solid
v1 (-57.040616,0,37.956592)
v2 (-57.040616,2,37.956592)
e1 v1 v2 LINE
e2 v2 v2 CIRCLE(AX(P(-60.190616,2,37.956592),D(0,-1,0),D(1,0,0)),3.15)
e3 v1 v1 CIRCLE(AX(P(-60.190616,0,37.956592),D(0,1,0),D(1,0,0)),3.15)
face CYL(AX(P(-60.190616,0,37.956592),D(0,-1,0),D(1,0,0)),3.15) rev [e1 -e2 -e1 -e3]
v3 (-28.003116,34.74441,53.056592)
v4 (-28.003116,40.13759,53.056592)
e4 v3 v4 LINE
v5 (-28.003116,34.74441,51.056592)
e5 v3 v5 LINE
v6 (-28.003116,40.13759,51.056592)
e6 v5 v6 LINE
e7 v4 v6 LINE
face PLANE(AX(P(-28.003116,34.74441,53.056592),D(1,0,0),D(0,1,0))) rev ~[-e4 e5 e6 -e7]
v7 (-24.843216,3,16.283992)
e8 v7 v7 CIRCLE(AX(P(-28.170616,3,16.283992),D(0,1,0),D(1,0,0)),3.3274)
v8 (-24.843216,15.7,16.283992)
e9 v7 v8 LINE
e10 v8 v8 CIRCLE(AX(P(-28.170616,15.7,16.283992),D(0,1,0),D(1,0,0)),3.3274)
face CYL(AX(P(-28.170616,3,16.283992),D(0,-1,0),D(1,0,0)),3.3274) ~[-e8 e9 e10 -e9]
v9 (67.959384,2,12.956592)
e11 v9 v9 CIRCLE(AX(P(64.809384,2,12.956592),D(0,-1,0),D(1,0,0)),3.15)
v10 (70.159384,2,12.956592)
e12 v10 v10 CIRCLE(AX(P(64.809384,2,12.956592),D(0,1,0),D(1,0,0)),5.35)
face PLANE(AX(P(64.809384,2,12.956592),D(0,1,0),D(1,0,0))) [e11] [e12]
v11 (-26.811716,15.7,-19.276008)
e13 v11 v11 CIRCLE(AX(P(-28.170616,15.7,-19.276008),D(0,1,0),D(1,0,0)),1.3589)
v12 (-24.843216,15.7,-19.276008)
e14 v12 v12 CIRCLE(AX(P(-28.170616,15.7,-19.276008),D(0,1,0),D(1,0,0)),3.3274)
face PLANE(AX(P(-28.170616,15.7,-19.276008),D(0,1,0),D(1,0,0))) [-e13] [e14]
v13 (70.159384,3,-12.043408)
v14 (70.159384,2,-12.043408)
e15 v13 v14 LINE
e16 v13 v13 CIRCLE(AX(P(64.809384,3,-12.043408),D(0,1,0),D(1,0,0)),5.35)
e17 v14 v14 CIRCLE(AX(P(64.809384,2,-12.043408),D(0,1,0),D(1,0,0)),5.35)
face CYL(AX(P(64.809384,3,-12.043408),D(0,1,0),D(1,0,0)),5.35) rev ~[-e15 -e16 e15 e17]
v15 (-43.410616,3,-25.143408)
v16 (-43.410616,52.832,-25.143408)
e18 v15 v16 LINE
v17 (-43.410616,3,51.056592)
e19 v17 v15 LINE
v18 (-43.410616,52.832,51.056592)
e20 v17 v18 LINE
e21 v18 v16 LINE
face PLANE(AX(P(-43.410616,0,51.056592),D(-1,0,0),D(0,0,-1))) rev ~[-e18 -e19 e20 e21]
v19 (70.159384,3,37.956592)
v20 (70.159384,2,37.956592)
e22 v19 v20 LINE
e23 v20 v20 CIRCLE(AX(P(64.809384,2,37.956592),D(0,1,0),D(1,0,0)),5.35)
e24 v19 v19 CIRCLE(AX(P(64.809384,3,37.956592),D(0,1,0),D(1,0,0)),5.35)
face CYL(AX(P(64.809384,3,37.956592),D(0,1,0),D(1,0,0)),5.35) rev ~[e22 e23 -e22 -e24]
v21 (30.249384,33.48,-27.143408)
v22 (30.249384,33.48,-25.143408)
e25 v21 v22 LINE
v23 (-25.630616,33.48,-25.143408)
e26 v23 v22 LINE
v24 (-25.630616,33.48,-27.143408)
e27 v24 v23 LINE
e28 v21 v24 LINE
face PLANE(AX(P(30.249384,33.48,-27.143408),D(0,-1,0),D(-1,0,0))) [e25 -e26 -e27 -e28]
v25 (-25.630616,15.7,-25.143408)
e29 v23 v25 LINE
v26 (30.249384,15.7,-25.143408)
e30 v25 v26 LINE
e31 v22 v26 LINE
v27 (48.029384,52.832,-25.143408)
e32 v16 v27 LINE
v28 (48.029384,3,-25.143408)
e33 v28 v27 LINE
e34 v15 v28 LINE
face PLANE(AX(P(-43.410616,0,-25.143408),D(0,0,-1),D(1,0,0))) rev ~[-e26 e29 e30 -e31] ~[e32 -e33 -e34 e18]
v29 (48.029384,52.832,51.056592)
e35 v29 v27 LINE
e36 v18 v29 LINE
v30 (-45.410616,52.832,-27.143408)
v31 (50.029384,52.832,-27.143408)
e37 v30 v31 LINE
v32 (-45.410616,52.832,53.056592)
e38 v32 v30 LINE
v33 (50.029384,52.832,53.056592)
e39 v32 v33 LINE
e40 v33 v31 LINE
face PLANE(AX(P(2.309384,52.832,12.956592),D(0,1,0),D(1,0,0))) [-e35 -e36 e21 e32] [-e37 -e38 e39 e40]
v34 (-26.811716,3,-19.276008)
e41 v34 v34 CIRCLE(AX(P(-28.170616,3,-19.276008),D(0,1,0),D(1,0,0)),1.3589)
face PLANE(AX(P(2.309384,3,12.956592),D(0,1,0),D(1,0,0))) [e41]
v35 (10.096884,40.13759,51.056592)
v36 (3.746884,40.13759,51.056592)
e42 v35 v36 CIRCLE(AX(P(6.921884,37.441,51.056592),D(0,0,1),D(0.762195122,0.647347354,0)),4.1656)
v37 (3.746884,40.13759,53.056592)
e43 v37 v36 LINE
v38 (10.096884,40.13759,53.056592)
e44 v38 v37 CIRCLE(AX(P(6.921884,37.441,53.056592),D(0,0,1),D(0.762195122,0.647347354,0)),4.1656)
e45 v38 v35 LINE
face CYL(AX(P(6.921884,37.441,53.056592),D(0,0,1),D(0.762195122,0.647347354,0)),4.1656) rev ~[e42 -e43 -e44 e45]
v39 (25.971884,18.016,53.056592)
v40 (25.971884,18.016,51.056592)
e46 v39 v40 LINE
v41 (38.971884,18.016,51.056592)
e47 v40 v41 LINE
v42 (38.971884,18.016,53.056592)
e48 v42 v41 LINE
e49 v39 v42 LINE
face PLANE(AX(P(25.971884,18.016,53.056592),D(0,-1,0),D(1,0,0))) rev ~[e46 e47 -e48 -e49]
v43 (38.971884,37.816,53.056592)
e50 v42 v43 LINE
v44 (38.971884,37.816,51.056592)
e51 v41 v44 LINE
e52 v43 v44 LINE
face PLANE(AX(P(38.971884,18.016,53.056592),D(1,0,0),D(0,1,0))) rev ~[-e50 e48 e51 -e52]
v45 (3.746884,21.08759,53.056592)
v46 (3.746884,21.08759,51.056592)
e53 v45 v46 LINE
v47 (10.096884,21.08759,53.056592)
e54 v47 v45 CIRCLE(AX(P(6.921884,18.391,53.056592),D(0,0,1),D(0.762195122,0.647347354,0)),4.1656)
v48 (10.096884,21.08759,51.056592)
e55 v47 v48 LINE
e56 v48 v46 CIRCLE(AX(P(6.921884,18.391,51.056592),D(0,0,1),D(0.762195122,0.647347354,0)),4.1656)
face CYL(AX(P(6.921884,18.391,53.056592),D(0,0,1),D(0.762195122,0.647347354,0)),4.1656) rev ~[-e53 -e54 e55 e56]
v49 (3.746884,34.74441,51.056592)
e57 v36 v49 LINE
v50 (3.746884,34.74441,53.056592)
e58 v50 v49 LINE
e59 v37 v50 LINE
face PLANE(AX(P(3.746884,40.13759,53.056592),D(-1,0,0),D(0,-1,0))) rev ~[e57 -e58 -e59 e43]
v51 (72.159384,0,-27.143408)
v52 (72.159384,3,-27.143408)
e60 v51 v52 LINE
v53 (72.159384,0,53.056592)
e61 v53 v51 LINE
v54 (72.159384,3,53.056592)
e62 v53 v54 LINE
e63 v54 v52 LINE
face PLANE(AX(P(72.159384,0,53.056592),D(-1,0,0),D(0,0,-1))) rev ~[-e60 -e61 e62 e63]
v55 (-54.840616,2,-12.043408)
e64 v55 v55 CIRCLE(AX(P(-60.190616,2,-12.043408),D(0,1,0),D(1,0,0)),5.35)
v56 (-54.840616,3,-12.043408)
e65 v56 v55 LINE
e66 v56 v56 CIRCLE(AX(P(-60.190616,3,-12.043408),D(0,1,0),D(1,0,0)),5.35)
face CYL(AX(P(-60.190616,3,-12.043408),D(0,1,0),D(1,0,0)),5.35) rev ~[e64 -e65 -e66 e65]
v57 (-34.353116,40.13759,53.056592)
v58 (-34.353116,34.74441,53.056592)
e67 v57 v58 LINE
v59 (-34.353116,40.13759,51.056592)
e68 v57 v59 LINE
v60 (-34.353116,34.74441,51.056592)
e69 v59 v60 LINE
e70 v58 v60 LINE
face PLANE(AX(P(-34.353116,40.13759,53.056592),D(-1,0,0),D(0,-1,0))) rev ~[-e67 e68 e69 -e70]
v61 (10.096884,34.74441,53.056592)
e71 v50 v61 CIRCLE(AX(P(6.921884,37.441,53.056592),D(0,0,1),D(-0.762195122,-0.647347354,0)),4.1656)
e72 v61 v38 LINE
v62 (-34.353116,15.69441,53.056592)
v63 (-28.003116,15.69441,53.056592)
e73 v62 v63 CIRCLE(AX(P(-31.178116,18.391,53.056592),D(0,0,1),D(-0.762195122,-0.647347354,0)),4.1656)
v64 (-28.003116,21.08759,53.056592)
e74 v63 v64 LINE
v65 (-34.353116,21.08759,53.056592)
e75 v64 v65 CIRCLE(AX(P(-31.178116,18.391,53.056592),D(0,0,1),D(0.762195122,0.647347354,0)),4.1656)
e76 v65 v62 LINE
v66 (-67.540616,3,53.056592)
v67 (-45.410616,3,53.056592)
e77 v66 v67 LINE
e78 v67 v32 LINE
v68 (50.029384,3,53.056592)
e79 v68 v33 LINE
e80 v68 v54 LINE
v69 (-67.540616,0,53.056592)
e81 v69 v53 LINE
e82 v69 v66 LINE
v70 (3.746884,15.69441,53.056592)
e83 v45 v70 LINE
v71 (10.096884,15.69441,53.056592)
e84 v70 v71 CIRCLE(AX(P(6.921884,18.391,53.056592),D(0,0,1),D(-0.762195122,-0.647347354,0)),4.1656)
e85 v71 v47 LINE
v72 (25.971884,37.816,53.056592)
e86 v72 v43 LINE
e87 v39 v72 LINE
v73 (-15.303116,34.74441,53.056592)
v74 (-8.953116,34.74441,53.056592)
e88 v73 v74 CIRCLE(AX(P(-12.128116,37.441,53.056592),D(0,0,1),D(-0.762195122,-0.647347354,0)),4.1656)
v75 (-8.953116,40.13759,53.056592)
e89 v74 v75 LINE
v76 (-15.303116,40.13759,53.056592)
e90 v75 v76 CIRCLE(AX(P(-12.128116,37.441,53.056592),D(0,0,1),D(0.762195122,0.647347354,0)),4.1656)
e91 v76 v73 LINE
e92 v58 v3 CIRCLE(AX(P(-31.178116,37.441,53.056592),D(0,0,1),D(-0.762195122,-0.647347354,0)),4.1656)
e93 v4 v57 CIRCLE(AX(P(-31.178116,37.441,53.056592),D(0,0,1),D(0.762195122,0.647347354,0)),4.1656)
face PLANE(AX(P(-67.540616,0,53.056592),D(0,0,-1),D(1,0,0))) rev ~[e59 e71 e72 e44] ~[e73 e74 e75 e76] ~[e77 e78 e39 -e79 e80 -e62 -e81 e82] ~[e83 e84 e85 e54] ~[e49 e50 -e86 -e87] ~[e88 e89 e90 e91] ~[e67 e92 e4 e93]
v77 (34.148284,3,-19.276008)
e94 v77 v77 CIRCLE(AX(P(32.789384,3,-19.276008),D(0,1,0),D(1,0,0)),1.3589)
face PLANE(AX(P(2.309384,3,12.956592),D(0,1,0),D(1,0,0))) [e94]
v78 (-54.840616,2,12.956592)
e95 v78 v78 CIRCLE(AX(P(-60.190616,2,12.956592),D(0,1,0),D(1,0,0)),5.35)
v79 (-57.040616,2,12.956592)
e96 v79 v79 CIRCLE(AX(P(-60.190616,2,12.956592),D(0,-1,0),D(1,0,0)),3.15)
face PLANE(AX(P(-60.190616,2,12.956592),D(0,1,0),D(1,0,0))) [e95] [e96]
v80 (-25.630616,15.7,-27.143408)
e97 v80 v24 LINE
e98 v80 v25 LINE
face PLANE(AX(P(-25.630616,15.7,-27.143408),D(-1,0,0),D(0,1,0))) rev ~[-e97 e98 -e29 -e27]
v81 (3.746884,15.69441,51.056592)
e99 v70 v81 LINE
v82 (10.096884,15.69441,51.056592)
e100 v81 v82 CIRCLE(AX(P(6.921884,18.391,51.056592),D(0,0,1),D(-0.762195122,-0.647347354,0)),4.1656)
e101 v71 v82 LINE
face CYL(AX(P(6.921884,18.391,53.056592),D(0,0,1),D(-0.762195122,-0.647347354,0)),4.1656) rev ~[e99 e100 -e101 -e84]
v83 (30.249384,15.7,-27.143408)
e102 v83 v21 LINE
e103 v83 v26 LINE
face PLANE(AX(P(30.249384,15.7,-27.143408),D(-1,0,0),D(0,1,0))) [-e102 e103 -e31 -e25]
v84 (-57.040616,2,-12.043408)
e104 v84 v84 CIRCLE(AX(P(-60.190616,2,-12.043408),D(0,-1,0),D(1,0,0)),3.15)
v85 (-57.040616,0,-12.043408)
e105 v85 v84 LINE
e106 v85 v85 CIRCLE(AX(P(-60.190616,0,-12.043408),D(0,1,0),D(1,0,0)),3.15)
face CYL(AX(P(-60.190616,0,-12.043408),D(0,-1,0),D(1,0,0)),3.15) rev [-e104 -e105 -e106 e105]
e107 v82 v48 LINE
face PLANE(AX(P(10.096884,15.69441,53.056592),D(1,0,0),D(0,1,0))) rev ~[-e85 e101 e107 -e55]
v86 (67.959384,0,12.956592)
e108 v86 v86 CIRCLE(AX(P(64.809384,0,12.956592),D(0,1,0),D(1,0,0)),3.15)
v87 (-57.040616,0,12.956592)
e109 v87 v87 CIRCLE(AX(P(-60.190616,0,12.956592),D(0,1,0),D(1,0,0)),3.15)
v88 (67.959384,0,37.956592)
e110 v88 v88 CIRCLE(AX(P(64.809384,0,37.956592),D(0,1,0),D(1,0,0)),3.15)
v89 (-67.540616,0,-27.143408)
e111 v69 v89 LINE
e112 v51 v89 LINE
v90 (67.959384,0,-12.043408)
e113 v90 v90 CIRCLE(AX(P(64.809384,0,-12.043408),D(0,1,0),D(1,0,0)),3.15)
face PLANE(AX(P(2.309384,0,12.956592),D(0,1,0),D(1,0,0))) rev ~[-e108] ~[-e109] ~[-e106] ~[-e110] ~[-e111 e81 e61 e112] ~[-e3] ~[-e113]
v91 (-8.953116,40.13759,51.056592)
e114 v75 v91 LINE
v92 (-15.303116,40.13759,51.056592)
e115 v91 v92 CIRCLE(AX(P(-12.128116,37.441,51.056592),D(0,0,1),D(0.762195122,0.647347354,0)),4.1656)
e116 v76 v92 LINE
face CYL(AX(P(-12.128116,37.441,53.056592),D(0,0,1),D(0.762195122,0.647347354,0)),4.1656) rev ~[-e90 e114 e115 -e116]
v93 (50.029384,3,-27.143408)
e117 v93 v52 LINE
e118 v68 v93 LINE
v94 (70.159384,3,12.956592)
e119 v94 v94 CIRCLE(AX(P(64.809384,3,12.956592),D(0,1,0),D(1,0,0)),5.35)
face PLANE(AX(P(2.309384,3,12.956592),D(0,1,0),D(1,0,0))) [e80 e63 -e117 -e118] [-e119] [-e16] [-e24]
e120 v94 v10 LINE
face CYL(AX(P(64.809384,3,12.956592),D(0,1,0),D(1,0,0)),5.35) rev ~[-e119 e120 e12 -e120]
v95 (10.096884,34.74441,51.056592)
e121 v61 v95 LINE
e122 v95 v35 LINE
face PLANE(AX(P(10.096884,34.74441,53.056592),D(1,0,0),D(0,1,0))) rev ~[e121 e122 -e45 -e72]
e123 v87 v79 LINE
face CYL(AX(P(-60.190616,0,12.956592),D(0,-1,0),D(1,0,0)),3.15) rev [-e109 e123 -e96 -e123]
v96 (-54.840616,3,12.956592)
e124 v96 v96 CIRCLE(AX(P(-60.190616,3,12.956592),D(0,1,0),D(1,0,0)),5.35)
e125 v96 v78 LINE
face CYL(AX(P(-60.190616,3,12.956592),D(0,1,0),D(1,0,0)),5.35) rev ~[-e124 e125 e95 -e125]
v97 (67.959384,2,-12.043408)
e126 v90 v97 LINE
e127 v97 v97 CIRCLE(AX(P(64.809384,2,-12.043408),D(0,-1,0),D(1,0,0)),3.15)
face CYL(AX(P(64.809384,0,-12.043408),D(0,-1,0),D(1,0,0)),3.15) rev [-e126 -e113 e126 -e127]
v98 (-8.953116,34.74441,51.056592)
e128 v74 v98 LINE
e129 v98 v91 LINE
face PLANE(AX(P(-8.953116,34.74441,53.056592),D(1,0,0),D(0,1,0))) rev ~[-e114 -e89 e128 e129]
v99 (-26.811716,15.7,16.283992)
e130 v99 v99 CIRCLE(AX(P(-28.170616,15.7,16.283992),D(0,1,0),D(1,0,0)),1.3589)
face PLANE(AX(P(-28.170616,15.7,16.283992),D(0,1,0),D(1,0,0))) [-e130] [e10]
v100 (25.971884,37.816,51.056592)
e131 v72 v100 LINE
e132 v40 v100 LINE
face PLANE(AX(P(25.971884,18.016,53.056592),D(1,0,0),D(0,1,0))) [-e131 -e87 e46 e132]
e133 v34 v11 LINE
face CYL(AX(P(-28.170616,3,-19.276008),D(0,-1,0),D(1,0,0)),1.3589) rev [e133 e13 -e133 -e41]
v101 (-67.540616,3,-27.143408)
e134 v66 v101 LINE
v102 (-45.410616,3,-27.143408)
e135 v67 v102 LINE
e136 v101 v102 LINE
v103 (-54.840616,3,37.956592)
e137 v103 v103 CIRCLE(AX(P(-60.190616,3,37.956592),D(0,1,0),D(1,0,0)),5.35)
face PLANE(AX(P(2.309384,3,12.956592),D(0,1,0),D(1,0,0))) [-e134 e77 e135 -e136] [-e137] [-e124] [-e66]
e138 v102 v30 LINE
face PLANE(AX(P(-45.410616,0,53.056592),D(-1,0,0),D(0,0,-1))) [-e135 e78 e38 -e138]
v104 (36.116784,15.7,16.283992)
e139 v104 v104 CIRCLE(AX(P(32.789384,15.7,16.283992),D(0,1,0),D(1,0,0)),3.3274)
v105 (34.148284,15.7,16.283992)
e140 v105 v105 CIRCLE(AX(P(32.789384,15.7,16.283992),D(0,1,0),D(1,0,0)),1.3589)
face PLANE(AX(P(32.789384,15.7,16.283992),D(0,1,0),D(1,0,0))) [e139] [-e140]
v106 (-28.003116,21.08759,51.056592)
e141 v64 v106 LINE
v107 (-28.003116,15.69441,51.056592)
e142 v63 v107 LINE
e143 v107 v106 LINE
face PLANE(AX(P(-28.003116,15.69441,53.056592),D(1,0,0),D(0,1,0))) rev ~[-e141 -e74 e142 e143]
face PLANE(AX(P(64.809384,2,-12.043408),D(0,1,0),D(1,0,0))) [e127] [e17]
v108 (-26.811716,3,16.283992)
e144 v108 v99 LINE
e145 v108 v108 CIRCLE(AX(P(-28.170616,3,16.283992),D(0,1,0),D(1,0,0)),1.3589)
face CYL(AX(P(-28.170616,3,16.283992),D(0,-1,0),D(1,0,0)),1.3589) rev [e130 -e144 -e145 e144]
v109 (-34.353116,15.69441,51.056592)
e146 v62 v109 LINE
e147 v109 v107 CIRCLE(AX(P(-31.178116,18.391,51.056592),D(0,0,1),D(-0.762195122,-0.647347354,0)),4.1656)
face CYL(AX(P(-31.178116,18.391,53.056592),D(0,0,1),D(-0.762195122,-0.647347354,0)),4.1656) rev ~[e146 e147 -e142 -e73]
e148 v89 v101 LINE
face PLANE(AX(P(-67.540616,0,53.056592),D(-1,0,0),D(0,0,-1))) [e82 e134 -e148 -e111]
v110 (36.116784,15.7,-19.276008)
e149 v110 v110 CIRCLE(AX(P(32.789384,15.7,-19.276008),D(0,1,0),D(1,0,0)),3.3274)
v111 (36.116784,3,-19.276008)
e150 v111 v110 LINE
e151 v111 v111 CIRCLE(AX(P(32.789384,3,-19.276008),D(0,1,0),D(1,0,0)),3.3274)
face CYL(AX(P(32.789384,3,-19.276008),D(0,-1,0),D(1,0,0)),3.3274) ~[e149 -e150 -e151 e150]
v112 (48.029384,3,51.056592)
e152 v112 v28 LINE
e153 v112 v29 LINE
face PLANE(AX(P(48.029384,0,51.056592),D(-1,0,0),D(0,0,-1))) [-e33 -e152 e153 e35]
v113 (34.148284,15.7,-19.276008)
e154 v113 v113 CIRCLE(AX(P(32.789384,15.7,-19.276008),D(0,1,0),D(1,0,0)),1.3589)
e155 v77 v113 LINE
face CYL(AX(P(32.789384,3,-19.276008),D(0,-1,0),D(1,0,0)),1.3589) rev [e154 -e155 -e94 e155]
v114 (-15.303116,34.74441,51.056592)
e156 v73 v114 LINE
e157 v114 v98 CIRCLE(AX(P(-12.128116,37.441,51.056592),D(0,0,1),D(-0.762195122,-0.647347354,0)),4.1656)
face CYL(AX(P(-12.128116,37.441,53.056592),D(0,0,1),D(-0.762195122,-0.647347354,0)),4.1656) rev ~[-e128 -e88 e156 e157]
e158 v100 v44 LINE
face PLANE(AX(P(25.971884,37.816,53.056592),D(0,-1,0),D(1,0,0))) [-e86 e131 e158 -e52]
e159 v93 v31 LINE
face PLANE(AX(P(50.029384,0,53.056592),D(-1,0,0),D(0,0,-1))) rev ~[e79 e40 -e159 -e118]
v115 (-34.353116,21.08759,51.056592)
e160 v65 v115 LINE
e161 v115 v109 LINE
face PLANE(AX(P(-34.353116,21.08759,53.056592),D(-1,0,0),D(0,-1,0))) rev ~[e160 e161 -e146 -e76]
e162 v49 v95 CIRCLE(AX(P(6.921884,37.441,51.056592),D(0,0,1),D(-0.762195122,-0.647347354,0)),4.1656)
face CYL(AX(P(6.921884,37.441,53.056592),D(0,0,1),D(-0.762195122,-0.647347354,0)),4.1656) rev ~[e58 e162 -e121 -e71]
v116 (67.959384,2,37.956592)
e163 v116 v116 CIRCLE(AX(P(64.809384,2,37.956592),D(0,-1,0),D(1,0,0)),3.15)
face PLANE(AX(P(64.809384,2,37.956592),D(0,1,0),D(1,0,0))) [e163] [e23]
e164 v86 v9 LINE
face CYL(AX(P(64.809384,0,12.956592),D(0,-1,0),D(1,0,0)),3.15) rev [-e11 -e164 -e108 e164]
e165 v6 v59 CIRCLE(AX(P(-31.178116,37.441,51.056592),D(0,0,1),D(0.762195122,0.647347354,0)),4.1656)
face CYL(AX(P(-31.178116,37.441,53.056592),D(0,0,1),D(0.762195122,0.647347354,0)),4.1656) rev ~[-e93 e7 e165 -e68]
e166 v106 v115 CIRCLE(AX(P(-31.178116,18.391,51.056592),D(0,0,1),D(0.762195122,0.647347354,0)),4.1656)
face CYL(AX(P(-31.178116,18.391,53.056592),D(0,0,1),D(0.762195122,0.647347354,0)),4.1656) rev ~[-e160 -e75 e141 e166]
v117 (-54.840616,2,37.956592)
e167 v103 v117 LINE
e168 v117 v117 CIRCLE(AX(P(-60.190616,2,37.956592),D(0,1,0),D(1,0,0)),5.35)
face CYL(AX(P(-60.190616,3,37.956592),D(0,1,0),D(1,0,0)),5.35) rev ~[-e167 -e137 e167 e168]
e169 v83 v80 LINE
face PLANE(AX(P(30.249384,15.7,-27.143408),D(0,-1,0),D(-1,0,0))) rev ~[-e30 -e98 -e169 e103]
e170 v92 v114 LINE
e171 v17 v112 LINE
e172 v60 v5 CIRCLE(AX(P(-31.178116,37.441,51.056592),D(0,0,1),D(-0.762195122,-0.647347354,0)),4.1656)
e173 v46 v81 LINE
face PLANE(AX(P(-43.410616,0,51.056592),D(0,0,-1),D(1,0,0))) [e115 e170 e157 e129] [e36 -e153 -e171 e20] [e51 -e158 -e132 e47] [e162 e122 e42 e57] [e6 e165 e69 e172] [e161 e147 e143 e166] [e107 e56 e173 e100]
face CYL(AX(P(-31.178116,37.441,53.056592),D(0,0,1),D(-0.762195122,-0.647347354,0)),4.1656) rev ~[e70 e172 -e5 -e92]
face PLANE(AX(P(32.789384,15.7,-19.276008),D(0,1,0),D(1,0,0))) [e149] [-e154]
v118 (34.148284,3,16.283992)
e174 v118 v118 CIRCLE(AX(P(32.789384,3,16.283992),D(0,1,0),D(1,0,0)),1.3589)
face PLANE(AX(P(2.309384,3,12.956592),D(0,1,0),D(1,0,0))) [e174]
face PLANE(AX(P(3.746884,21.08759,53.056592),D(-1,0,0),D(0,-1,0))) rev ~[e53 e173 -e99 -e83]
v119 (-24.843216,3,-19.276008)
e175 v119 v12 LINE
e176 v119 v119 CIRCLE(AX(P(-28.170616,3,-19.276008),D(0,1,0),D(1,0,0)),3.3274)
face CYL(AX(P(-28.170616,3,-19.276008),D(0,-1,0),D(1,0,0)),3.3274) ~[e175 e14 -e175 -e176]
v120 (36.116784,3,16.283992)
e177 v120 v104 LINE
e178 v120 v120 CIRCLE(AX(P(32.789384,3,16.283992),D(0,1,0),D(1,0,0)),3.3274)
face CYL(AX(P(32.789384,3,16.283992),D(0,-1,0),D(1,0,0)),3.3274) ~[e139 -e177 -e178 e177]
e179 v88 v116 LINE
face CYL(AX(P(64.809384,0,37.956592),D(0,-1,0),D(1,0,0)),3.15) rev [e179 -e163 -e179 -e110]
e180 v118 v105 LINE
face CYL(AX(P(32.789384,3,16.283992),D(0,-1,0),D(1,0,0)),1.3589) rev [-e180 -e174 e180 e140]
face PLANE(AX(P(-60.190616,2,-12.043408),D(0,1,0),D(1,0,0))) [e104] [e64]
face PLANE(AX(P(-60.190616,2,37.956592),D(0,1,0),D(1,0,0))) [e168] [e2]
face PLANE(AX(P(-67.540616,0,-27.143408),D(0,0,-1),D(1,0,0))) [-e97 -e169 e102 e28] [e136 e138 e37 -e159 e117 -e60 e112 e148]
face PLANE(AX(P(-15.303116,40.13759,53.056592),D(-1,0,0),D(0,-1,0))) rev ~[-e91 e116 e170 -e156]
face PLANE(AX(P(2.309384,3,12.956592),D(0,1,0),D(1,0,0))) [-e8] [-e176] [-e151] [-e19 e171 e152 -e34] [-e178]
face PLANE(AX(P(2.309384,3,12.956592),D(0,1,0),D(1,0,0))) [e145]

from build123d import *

# Parameters (mm, degrees)
SKETCH1_W           = 95.44
SKETCH1_H           = 80.2
SKETCH1_W_2         = 91.44
SKETCH1_H_2         = 76.2
BOSS_EXTRUDE1_DEPTH = 52.832
SKETCH2_W           = 139.7
SKETCH2_H           = 80.2
SKETCH2_R           = 3.15
BOSS_EXTRUDE2_DEPTH = 3
SKETCH3_R           = 5.35
CUT_EXTRUDE1_DEPTH  = 1
SKETCH4_R           = 3.3274
SKETCH4_R_2         = 1.3589
BOSS_EXTRUDE3_DEPTH = 12.7
CUT_EXTRUDE2_REACH  = 82.2
SKETCH5_W           = 55.88
SKETCH5_H           = 17.78
CUT_EXTRUDE3_REACH  = 82.2
SKETCH6_W           = 13
SKETCH6_H           = 19.8


with BuildPart() as part:
    # Sketch1 → Boss-Extrude1 (new body)
    with BuildSketch(Plane(origin=(0, 0, 0), x_dir=(1, 0, 0), z_dir=(0, 1, 0))):
        with Locations((2.309383501, -12.95659189)):
            Rectangle(SKETCH1_W, SKETCH1_H)
        with Locations((2.309383501, -12.95659189)):
            Rectangle(SKETCH1_W_2, SKETCH1_H_2, mode=Mode.SUBTRACT)
    extrude(amount=BOSS_EXTRUDE1_DEPTH)

    # Sketch2 → Boss-Extrude2 (add)
    with BuildSketch(Plane(origin=(0, 0, 0), x_dir=(1, 0, 0), z_dir=(0, 1, 0))):
        with Locations((2.309383501, -12.95659189)):
            Rectangle(SKETCH2_W, SKETCH2_H)
        with Locations((-60.190616499, 12.04340811)):
            Circle(SKETCH2_R, mode=Mode.SUBTRACT)
        with Locations((64.809383501, 12.04340811)):
            Circle(SKETCH2_R, mode=Mode.SUBTRACT)
        with Locations((-60.190616499, -37.95659189)):
            Circle(SKETCH2_R, mode=Mode.SUBTRACT)
        with Locations((64.809383501, -37.95659189)):
            Circle(SKETCH2_R, mode=Mode.SUBTRACT)
        with Locations((-60.190616499, -12.95659189)):
            Circle(SKETCH2_R, mode=Mode.SUBTRACT)
        with Locations((64.809383501, -12.95659189)):
            Circle(SKETCH2_R, mode=Mode.SUBTRACT)
    extrude(amount=BOSS_EXTRUDE2_DEPTH)

    # Sketch3 → Cut-Extrude1 (cut)
    with BuildSketch(Plane(origin=(0, 3, 0), x_dir=(1, 0, 0), z_dir=(0, 1, 0))):
        with Locations((-60.190616499, 12.04340811)):
            Circle(SKETCH3_R)
        with Locations((-60.190616499, -12.95659189)):
            Circle(SKETCH3_R)
        with Locations((-60.190616499, -37.95659189)):
            Circle(SKETCH3_R)
        with Locations((64.809383501, 12.04340811)):
            Circle(SKETCH3_R)
        with Locations((64.809383501, -12.95659189)):
            Circle(SKETCH3_R)
        with Locations((64.809383501, -37.95659189)):
            Circle(SKETCH3_R)
    extrude(amount=-CUT_EXTRUDE1_DEPTH, mode=Mode.SUBTRACT)

    # Sketch4 → Boss-Extrude3 (add)
    with BuildSketch(Plane(origin=(0, 3, 0), x_dir=(1, 0, 0), z_dir=(0, 1, 0))):
        with Locations((-28.170616499, 19.27600811)):
            Circle(SKETCH4_R)
        with Locations((-28.170616499, 19.27600811)):
            Circle(SKETCH4_R_2, mode=Mode.SUBTRACT)
        with Locations((32.789383501, 19.27600811)):
            Circle(SKETCH4_R)
        with Locations((32.789383501, 19.27600811)):
            Circle(SKETCH4_R_2, mode=Mode.SUBTRACT)
        with Locations((32.789383501, -16.28399189)):
            Circle(SKETCH4_R)
        with Locations((32.789383501, -16.28399189)):
            Circle(SKETCH4_R_2, mode=Mode.SUBTRACT)
        with Locations((-28.170616499, -16.28399189)):
            Circle(SKETCH4_R)
        with Locations((-28.170616499, -16.28399189)):
            Circle(SKETCH4_R_2, mode=Mode.SUBTRACT)
    extrude(amount=BOSS_EXTRUDE3_DEPTH)

    # Sketch5 → Cut-Extrude2 (cut, up to next)
    with BuildSketch(Plane(origin=(0, 0, -27.14340811), x_dir=(-1, 0, 0), z_dir=(0, 0, -1)), mode=Mode.PRIVATE) as cut_extrude2_sk1:
        with Locations((-2.309383501, 24.59)):
            Rectangle(SKETCH5_W, SKETCH5_H)
    cut_extrude2_tool1 = extrude(cut_extrude2_sk1.sketch, amount=-CUT_EXTRUDE2_REACH, mode=Mode.PRIVATE) & part.part
    add(cut_extrude2_tool1.solids().sort_by_distance((2.309384, 24.59, -27.143408))[0], mode=Mode.SUBTRACT)

    # Sketch6 → Cut-Extrude3 (cut, up to next)
    with BuildSketch(Plane.XY.offset(53.05659189), mode=Mode.PRIVATE) as cut_extrude3_sk1:
        with BuildLine():
            Line((-34.353116499, 40.137590136), (-34.353116499, 34.744409864))
            ThreePointArc((-34.353116499, 34.744409864), (-31.178116499, 33.2754), (-28.003116499, 34.744409864))
            Line((-28.003116499, 34.744409864), (-28.003116499, 40.137590136))
            ThreePointArc((-28.003116499, 40.137590136), (-31.178116499, 41.6066), (-34.353116499, 40.137590136))
        make_face()
    cut_extrude3_tool1 = extrude(cut_extrude3_sk1.sketch, amount=-CUT_EXTRUDE3_REACH, mode=Mode.PRIVATE) & part.part
    add(cut_extrude3_tool1.solids().sort_by_distance((-31.178116, 37.441, 53.056592))[0], mode=Mode.SUBTRACT)
    # Sketch6 → Cut-Extrude3 (cut, up to next)
    with BuildSketch(Plane.XY.offset(53.05659189), mode=Mode.PRIVATE) as cut_extrude3_sk2:
        with BuildLine():
            Line((-15.303116499, 40.137590136), (-15.303116499, 34.744409864))
            ThreePointArc((-15.303116499, 34.744409864), (-12.128116499, 33.2754), (-8.953116499, 34.744409864))
            Line((-8.953116499, 34.744409864), (-8.953116499, 40.137590136))
            ThreePointArc((-8.953116499, 40.137590136), (-12.128116499, 41.6066), (-15.303116499, 40.137590136))
        make_face()
    cut_extrude3_tool2 = extrude(cut_extrude3_sk2.sketch, amount=-CUT_EXTRUDE3_REACH, mode=Mode.PRIVATE) & part.part
    add(cut_extrude3_tool2.solids().sort_by_distance((-12.128116, 37.441, 53.056592))[0], mode=Mode.SUBTRACT)
    # Sketch6 → Cut-Extrude3 (cut, up to next)
    with BuildSketch(Plane.XY.offset(53.05659189), mode=Mode.PRIVATE) as cut_extrude3_sk3:
        with BuildLine():
            Line((3.746883501, 40.137590136), (3.746883501, 34.744409864))
            ThreePointArc((3.746883501, 34.744409864), (6.921883501, 33.2754), (10.096883501, 34.744409864))
            Line((10.096883501, 34.744409864), (10.096883501, 40.137590136))
            ThreePointArc((10.096883501, 40.137590136), (6.921883501, 41.6066), (3.746883501, 40.137590136))
        make_face()
    cut_extrude3_tool3 = extrude(cut_extrude3_sk3.sketch, amount=-CUT_EXTRUDE3_REACH, mode=Mode.PRIVATE) & part.part
    add(cut_extrude3_tool3.solids().sort_by_distance((6.921884, 37.441, 53.056592))[0], mode=Mode.SUBTRACT)
    # Sketch6 → Cut-Extrude3 (cut, up to next)
    with BuildSketch(Plane.XY.offset(53.05659189), mode=Mode.PRIVATE) as cut_extrude3_sk4:
        with BuildLine():
            Line((-34.353116499, 21.087590136), (-34.353116499, 15.694409864))
            ThreePointArc((-34.353116499, 15.694409864), (-31.178116499, 14.2254), (-28.003116499, 15.694409864))
            Line((-28.003116499, 15.694409864), (-28.003116499, 21.087590136))
            ThreePointArc((-28.003116499, 21.087590136), (-31.178116499, 22.5566), (-34.353116499, 21.087590136))
        make_face()
    cut_extrude3_tool4 = extrude(cut_extrude3_sk4.sketch, amount=-CUT_EXTRUDE3_REACH, mode=Mode.PRIVATE) & part.part
    add(cut_extrude3_tool4.solids().sort_by_distance((-31.178116, 18.391, 53.056592))[0], mode=Mode.SUBTRACT)
    # Sketch6 → Cut-Extrude3 (cut, up to next)
    with BuildSketch(Plane.XY.offset(53.05659189), mode=Mode.PRIVATE) as cut_extrude3_sk5:
        with BuildLine():
            Line((3.746883501, 21.087590136), (3.746883501, 15.694409864))
            ThreePointArc((3.746883501, 15.694409864), (6.921883501, 14.2254), (10.096883501, 15.694409864))
            Line((10.096883501, 15.694409864), (10.096883501, 21.087590136))
            ThreePointArc((10.096883501, 21.087590136), (6.921883501, 22.5566), (3.746883501, 21.087590136))
        make_face()
    cut_extrude3_tool5 = extrude(cut_extrude3_sk5.sketch, amount=-CUT_EXTRUDE3_REACH, mode=Mode.PRIVATE) & part.part
    add(cut_extrude3_tool5.solids().sort_by_distance((6.921884, 18.391, 53.056592))[0], mode=Mode.SUBTRACT)
    # Sketch6 → Cut-Extrude3 (cut, up to next)
    with BuildSketch(Plane.XY.offset(53.05659189), mode=Mode.PRIVATE) as cut_extrude3_sk6:
        with Locations((32.471883501, 27.916)):
            Rectangle(SKETCH6_W, SKETCH6_H)
    cut_extrude3_tool6 = extrude(cut_extrude3_sk6.sketch, amount=-CUT_EXTRUDE3_REACH, mode=Mode.PRIVATE) & part.part
    add(cut_extrude3_tool6.solids().sort_by_distance((32.471884, 27.916, 53.056592))[0], mode=Mode.SUBTRACT)


solid = part.part
